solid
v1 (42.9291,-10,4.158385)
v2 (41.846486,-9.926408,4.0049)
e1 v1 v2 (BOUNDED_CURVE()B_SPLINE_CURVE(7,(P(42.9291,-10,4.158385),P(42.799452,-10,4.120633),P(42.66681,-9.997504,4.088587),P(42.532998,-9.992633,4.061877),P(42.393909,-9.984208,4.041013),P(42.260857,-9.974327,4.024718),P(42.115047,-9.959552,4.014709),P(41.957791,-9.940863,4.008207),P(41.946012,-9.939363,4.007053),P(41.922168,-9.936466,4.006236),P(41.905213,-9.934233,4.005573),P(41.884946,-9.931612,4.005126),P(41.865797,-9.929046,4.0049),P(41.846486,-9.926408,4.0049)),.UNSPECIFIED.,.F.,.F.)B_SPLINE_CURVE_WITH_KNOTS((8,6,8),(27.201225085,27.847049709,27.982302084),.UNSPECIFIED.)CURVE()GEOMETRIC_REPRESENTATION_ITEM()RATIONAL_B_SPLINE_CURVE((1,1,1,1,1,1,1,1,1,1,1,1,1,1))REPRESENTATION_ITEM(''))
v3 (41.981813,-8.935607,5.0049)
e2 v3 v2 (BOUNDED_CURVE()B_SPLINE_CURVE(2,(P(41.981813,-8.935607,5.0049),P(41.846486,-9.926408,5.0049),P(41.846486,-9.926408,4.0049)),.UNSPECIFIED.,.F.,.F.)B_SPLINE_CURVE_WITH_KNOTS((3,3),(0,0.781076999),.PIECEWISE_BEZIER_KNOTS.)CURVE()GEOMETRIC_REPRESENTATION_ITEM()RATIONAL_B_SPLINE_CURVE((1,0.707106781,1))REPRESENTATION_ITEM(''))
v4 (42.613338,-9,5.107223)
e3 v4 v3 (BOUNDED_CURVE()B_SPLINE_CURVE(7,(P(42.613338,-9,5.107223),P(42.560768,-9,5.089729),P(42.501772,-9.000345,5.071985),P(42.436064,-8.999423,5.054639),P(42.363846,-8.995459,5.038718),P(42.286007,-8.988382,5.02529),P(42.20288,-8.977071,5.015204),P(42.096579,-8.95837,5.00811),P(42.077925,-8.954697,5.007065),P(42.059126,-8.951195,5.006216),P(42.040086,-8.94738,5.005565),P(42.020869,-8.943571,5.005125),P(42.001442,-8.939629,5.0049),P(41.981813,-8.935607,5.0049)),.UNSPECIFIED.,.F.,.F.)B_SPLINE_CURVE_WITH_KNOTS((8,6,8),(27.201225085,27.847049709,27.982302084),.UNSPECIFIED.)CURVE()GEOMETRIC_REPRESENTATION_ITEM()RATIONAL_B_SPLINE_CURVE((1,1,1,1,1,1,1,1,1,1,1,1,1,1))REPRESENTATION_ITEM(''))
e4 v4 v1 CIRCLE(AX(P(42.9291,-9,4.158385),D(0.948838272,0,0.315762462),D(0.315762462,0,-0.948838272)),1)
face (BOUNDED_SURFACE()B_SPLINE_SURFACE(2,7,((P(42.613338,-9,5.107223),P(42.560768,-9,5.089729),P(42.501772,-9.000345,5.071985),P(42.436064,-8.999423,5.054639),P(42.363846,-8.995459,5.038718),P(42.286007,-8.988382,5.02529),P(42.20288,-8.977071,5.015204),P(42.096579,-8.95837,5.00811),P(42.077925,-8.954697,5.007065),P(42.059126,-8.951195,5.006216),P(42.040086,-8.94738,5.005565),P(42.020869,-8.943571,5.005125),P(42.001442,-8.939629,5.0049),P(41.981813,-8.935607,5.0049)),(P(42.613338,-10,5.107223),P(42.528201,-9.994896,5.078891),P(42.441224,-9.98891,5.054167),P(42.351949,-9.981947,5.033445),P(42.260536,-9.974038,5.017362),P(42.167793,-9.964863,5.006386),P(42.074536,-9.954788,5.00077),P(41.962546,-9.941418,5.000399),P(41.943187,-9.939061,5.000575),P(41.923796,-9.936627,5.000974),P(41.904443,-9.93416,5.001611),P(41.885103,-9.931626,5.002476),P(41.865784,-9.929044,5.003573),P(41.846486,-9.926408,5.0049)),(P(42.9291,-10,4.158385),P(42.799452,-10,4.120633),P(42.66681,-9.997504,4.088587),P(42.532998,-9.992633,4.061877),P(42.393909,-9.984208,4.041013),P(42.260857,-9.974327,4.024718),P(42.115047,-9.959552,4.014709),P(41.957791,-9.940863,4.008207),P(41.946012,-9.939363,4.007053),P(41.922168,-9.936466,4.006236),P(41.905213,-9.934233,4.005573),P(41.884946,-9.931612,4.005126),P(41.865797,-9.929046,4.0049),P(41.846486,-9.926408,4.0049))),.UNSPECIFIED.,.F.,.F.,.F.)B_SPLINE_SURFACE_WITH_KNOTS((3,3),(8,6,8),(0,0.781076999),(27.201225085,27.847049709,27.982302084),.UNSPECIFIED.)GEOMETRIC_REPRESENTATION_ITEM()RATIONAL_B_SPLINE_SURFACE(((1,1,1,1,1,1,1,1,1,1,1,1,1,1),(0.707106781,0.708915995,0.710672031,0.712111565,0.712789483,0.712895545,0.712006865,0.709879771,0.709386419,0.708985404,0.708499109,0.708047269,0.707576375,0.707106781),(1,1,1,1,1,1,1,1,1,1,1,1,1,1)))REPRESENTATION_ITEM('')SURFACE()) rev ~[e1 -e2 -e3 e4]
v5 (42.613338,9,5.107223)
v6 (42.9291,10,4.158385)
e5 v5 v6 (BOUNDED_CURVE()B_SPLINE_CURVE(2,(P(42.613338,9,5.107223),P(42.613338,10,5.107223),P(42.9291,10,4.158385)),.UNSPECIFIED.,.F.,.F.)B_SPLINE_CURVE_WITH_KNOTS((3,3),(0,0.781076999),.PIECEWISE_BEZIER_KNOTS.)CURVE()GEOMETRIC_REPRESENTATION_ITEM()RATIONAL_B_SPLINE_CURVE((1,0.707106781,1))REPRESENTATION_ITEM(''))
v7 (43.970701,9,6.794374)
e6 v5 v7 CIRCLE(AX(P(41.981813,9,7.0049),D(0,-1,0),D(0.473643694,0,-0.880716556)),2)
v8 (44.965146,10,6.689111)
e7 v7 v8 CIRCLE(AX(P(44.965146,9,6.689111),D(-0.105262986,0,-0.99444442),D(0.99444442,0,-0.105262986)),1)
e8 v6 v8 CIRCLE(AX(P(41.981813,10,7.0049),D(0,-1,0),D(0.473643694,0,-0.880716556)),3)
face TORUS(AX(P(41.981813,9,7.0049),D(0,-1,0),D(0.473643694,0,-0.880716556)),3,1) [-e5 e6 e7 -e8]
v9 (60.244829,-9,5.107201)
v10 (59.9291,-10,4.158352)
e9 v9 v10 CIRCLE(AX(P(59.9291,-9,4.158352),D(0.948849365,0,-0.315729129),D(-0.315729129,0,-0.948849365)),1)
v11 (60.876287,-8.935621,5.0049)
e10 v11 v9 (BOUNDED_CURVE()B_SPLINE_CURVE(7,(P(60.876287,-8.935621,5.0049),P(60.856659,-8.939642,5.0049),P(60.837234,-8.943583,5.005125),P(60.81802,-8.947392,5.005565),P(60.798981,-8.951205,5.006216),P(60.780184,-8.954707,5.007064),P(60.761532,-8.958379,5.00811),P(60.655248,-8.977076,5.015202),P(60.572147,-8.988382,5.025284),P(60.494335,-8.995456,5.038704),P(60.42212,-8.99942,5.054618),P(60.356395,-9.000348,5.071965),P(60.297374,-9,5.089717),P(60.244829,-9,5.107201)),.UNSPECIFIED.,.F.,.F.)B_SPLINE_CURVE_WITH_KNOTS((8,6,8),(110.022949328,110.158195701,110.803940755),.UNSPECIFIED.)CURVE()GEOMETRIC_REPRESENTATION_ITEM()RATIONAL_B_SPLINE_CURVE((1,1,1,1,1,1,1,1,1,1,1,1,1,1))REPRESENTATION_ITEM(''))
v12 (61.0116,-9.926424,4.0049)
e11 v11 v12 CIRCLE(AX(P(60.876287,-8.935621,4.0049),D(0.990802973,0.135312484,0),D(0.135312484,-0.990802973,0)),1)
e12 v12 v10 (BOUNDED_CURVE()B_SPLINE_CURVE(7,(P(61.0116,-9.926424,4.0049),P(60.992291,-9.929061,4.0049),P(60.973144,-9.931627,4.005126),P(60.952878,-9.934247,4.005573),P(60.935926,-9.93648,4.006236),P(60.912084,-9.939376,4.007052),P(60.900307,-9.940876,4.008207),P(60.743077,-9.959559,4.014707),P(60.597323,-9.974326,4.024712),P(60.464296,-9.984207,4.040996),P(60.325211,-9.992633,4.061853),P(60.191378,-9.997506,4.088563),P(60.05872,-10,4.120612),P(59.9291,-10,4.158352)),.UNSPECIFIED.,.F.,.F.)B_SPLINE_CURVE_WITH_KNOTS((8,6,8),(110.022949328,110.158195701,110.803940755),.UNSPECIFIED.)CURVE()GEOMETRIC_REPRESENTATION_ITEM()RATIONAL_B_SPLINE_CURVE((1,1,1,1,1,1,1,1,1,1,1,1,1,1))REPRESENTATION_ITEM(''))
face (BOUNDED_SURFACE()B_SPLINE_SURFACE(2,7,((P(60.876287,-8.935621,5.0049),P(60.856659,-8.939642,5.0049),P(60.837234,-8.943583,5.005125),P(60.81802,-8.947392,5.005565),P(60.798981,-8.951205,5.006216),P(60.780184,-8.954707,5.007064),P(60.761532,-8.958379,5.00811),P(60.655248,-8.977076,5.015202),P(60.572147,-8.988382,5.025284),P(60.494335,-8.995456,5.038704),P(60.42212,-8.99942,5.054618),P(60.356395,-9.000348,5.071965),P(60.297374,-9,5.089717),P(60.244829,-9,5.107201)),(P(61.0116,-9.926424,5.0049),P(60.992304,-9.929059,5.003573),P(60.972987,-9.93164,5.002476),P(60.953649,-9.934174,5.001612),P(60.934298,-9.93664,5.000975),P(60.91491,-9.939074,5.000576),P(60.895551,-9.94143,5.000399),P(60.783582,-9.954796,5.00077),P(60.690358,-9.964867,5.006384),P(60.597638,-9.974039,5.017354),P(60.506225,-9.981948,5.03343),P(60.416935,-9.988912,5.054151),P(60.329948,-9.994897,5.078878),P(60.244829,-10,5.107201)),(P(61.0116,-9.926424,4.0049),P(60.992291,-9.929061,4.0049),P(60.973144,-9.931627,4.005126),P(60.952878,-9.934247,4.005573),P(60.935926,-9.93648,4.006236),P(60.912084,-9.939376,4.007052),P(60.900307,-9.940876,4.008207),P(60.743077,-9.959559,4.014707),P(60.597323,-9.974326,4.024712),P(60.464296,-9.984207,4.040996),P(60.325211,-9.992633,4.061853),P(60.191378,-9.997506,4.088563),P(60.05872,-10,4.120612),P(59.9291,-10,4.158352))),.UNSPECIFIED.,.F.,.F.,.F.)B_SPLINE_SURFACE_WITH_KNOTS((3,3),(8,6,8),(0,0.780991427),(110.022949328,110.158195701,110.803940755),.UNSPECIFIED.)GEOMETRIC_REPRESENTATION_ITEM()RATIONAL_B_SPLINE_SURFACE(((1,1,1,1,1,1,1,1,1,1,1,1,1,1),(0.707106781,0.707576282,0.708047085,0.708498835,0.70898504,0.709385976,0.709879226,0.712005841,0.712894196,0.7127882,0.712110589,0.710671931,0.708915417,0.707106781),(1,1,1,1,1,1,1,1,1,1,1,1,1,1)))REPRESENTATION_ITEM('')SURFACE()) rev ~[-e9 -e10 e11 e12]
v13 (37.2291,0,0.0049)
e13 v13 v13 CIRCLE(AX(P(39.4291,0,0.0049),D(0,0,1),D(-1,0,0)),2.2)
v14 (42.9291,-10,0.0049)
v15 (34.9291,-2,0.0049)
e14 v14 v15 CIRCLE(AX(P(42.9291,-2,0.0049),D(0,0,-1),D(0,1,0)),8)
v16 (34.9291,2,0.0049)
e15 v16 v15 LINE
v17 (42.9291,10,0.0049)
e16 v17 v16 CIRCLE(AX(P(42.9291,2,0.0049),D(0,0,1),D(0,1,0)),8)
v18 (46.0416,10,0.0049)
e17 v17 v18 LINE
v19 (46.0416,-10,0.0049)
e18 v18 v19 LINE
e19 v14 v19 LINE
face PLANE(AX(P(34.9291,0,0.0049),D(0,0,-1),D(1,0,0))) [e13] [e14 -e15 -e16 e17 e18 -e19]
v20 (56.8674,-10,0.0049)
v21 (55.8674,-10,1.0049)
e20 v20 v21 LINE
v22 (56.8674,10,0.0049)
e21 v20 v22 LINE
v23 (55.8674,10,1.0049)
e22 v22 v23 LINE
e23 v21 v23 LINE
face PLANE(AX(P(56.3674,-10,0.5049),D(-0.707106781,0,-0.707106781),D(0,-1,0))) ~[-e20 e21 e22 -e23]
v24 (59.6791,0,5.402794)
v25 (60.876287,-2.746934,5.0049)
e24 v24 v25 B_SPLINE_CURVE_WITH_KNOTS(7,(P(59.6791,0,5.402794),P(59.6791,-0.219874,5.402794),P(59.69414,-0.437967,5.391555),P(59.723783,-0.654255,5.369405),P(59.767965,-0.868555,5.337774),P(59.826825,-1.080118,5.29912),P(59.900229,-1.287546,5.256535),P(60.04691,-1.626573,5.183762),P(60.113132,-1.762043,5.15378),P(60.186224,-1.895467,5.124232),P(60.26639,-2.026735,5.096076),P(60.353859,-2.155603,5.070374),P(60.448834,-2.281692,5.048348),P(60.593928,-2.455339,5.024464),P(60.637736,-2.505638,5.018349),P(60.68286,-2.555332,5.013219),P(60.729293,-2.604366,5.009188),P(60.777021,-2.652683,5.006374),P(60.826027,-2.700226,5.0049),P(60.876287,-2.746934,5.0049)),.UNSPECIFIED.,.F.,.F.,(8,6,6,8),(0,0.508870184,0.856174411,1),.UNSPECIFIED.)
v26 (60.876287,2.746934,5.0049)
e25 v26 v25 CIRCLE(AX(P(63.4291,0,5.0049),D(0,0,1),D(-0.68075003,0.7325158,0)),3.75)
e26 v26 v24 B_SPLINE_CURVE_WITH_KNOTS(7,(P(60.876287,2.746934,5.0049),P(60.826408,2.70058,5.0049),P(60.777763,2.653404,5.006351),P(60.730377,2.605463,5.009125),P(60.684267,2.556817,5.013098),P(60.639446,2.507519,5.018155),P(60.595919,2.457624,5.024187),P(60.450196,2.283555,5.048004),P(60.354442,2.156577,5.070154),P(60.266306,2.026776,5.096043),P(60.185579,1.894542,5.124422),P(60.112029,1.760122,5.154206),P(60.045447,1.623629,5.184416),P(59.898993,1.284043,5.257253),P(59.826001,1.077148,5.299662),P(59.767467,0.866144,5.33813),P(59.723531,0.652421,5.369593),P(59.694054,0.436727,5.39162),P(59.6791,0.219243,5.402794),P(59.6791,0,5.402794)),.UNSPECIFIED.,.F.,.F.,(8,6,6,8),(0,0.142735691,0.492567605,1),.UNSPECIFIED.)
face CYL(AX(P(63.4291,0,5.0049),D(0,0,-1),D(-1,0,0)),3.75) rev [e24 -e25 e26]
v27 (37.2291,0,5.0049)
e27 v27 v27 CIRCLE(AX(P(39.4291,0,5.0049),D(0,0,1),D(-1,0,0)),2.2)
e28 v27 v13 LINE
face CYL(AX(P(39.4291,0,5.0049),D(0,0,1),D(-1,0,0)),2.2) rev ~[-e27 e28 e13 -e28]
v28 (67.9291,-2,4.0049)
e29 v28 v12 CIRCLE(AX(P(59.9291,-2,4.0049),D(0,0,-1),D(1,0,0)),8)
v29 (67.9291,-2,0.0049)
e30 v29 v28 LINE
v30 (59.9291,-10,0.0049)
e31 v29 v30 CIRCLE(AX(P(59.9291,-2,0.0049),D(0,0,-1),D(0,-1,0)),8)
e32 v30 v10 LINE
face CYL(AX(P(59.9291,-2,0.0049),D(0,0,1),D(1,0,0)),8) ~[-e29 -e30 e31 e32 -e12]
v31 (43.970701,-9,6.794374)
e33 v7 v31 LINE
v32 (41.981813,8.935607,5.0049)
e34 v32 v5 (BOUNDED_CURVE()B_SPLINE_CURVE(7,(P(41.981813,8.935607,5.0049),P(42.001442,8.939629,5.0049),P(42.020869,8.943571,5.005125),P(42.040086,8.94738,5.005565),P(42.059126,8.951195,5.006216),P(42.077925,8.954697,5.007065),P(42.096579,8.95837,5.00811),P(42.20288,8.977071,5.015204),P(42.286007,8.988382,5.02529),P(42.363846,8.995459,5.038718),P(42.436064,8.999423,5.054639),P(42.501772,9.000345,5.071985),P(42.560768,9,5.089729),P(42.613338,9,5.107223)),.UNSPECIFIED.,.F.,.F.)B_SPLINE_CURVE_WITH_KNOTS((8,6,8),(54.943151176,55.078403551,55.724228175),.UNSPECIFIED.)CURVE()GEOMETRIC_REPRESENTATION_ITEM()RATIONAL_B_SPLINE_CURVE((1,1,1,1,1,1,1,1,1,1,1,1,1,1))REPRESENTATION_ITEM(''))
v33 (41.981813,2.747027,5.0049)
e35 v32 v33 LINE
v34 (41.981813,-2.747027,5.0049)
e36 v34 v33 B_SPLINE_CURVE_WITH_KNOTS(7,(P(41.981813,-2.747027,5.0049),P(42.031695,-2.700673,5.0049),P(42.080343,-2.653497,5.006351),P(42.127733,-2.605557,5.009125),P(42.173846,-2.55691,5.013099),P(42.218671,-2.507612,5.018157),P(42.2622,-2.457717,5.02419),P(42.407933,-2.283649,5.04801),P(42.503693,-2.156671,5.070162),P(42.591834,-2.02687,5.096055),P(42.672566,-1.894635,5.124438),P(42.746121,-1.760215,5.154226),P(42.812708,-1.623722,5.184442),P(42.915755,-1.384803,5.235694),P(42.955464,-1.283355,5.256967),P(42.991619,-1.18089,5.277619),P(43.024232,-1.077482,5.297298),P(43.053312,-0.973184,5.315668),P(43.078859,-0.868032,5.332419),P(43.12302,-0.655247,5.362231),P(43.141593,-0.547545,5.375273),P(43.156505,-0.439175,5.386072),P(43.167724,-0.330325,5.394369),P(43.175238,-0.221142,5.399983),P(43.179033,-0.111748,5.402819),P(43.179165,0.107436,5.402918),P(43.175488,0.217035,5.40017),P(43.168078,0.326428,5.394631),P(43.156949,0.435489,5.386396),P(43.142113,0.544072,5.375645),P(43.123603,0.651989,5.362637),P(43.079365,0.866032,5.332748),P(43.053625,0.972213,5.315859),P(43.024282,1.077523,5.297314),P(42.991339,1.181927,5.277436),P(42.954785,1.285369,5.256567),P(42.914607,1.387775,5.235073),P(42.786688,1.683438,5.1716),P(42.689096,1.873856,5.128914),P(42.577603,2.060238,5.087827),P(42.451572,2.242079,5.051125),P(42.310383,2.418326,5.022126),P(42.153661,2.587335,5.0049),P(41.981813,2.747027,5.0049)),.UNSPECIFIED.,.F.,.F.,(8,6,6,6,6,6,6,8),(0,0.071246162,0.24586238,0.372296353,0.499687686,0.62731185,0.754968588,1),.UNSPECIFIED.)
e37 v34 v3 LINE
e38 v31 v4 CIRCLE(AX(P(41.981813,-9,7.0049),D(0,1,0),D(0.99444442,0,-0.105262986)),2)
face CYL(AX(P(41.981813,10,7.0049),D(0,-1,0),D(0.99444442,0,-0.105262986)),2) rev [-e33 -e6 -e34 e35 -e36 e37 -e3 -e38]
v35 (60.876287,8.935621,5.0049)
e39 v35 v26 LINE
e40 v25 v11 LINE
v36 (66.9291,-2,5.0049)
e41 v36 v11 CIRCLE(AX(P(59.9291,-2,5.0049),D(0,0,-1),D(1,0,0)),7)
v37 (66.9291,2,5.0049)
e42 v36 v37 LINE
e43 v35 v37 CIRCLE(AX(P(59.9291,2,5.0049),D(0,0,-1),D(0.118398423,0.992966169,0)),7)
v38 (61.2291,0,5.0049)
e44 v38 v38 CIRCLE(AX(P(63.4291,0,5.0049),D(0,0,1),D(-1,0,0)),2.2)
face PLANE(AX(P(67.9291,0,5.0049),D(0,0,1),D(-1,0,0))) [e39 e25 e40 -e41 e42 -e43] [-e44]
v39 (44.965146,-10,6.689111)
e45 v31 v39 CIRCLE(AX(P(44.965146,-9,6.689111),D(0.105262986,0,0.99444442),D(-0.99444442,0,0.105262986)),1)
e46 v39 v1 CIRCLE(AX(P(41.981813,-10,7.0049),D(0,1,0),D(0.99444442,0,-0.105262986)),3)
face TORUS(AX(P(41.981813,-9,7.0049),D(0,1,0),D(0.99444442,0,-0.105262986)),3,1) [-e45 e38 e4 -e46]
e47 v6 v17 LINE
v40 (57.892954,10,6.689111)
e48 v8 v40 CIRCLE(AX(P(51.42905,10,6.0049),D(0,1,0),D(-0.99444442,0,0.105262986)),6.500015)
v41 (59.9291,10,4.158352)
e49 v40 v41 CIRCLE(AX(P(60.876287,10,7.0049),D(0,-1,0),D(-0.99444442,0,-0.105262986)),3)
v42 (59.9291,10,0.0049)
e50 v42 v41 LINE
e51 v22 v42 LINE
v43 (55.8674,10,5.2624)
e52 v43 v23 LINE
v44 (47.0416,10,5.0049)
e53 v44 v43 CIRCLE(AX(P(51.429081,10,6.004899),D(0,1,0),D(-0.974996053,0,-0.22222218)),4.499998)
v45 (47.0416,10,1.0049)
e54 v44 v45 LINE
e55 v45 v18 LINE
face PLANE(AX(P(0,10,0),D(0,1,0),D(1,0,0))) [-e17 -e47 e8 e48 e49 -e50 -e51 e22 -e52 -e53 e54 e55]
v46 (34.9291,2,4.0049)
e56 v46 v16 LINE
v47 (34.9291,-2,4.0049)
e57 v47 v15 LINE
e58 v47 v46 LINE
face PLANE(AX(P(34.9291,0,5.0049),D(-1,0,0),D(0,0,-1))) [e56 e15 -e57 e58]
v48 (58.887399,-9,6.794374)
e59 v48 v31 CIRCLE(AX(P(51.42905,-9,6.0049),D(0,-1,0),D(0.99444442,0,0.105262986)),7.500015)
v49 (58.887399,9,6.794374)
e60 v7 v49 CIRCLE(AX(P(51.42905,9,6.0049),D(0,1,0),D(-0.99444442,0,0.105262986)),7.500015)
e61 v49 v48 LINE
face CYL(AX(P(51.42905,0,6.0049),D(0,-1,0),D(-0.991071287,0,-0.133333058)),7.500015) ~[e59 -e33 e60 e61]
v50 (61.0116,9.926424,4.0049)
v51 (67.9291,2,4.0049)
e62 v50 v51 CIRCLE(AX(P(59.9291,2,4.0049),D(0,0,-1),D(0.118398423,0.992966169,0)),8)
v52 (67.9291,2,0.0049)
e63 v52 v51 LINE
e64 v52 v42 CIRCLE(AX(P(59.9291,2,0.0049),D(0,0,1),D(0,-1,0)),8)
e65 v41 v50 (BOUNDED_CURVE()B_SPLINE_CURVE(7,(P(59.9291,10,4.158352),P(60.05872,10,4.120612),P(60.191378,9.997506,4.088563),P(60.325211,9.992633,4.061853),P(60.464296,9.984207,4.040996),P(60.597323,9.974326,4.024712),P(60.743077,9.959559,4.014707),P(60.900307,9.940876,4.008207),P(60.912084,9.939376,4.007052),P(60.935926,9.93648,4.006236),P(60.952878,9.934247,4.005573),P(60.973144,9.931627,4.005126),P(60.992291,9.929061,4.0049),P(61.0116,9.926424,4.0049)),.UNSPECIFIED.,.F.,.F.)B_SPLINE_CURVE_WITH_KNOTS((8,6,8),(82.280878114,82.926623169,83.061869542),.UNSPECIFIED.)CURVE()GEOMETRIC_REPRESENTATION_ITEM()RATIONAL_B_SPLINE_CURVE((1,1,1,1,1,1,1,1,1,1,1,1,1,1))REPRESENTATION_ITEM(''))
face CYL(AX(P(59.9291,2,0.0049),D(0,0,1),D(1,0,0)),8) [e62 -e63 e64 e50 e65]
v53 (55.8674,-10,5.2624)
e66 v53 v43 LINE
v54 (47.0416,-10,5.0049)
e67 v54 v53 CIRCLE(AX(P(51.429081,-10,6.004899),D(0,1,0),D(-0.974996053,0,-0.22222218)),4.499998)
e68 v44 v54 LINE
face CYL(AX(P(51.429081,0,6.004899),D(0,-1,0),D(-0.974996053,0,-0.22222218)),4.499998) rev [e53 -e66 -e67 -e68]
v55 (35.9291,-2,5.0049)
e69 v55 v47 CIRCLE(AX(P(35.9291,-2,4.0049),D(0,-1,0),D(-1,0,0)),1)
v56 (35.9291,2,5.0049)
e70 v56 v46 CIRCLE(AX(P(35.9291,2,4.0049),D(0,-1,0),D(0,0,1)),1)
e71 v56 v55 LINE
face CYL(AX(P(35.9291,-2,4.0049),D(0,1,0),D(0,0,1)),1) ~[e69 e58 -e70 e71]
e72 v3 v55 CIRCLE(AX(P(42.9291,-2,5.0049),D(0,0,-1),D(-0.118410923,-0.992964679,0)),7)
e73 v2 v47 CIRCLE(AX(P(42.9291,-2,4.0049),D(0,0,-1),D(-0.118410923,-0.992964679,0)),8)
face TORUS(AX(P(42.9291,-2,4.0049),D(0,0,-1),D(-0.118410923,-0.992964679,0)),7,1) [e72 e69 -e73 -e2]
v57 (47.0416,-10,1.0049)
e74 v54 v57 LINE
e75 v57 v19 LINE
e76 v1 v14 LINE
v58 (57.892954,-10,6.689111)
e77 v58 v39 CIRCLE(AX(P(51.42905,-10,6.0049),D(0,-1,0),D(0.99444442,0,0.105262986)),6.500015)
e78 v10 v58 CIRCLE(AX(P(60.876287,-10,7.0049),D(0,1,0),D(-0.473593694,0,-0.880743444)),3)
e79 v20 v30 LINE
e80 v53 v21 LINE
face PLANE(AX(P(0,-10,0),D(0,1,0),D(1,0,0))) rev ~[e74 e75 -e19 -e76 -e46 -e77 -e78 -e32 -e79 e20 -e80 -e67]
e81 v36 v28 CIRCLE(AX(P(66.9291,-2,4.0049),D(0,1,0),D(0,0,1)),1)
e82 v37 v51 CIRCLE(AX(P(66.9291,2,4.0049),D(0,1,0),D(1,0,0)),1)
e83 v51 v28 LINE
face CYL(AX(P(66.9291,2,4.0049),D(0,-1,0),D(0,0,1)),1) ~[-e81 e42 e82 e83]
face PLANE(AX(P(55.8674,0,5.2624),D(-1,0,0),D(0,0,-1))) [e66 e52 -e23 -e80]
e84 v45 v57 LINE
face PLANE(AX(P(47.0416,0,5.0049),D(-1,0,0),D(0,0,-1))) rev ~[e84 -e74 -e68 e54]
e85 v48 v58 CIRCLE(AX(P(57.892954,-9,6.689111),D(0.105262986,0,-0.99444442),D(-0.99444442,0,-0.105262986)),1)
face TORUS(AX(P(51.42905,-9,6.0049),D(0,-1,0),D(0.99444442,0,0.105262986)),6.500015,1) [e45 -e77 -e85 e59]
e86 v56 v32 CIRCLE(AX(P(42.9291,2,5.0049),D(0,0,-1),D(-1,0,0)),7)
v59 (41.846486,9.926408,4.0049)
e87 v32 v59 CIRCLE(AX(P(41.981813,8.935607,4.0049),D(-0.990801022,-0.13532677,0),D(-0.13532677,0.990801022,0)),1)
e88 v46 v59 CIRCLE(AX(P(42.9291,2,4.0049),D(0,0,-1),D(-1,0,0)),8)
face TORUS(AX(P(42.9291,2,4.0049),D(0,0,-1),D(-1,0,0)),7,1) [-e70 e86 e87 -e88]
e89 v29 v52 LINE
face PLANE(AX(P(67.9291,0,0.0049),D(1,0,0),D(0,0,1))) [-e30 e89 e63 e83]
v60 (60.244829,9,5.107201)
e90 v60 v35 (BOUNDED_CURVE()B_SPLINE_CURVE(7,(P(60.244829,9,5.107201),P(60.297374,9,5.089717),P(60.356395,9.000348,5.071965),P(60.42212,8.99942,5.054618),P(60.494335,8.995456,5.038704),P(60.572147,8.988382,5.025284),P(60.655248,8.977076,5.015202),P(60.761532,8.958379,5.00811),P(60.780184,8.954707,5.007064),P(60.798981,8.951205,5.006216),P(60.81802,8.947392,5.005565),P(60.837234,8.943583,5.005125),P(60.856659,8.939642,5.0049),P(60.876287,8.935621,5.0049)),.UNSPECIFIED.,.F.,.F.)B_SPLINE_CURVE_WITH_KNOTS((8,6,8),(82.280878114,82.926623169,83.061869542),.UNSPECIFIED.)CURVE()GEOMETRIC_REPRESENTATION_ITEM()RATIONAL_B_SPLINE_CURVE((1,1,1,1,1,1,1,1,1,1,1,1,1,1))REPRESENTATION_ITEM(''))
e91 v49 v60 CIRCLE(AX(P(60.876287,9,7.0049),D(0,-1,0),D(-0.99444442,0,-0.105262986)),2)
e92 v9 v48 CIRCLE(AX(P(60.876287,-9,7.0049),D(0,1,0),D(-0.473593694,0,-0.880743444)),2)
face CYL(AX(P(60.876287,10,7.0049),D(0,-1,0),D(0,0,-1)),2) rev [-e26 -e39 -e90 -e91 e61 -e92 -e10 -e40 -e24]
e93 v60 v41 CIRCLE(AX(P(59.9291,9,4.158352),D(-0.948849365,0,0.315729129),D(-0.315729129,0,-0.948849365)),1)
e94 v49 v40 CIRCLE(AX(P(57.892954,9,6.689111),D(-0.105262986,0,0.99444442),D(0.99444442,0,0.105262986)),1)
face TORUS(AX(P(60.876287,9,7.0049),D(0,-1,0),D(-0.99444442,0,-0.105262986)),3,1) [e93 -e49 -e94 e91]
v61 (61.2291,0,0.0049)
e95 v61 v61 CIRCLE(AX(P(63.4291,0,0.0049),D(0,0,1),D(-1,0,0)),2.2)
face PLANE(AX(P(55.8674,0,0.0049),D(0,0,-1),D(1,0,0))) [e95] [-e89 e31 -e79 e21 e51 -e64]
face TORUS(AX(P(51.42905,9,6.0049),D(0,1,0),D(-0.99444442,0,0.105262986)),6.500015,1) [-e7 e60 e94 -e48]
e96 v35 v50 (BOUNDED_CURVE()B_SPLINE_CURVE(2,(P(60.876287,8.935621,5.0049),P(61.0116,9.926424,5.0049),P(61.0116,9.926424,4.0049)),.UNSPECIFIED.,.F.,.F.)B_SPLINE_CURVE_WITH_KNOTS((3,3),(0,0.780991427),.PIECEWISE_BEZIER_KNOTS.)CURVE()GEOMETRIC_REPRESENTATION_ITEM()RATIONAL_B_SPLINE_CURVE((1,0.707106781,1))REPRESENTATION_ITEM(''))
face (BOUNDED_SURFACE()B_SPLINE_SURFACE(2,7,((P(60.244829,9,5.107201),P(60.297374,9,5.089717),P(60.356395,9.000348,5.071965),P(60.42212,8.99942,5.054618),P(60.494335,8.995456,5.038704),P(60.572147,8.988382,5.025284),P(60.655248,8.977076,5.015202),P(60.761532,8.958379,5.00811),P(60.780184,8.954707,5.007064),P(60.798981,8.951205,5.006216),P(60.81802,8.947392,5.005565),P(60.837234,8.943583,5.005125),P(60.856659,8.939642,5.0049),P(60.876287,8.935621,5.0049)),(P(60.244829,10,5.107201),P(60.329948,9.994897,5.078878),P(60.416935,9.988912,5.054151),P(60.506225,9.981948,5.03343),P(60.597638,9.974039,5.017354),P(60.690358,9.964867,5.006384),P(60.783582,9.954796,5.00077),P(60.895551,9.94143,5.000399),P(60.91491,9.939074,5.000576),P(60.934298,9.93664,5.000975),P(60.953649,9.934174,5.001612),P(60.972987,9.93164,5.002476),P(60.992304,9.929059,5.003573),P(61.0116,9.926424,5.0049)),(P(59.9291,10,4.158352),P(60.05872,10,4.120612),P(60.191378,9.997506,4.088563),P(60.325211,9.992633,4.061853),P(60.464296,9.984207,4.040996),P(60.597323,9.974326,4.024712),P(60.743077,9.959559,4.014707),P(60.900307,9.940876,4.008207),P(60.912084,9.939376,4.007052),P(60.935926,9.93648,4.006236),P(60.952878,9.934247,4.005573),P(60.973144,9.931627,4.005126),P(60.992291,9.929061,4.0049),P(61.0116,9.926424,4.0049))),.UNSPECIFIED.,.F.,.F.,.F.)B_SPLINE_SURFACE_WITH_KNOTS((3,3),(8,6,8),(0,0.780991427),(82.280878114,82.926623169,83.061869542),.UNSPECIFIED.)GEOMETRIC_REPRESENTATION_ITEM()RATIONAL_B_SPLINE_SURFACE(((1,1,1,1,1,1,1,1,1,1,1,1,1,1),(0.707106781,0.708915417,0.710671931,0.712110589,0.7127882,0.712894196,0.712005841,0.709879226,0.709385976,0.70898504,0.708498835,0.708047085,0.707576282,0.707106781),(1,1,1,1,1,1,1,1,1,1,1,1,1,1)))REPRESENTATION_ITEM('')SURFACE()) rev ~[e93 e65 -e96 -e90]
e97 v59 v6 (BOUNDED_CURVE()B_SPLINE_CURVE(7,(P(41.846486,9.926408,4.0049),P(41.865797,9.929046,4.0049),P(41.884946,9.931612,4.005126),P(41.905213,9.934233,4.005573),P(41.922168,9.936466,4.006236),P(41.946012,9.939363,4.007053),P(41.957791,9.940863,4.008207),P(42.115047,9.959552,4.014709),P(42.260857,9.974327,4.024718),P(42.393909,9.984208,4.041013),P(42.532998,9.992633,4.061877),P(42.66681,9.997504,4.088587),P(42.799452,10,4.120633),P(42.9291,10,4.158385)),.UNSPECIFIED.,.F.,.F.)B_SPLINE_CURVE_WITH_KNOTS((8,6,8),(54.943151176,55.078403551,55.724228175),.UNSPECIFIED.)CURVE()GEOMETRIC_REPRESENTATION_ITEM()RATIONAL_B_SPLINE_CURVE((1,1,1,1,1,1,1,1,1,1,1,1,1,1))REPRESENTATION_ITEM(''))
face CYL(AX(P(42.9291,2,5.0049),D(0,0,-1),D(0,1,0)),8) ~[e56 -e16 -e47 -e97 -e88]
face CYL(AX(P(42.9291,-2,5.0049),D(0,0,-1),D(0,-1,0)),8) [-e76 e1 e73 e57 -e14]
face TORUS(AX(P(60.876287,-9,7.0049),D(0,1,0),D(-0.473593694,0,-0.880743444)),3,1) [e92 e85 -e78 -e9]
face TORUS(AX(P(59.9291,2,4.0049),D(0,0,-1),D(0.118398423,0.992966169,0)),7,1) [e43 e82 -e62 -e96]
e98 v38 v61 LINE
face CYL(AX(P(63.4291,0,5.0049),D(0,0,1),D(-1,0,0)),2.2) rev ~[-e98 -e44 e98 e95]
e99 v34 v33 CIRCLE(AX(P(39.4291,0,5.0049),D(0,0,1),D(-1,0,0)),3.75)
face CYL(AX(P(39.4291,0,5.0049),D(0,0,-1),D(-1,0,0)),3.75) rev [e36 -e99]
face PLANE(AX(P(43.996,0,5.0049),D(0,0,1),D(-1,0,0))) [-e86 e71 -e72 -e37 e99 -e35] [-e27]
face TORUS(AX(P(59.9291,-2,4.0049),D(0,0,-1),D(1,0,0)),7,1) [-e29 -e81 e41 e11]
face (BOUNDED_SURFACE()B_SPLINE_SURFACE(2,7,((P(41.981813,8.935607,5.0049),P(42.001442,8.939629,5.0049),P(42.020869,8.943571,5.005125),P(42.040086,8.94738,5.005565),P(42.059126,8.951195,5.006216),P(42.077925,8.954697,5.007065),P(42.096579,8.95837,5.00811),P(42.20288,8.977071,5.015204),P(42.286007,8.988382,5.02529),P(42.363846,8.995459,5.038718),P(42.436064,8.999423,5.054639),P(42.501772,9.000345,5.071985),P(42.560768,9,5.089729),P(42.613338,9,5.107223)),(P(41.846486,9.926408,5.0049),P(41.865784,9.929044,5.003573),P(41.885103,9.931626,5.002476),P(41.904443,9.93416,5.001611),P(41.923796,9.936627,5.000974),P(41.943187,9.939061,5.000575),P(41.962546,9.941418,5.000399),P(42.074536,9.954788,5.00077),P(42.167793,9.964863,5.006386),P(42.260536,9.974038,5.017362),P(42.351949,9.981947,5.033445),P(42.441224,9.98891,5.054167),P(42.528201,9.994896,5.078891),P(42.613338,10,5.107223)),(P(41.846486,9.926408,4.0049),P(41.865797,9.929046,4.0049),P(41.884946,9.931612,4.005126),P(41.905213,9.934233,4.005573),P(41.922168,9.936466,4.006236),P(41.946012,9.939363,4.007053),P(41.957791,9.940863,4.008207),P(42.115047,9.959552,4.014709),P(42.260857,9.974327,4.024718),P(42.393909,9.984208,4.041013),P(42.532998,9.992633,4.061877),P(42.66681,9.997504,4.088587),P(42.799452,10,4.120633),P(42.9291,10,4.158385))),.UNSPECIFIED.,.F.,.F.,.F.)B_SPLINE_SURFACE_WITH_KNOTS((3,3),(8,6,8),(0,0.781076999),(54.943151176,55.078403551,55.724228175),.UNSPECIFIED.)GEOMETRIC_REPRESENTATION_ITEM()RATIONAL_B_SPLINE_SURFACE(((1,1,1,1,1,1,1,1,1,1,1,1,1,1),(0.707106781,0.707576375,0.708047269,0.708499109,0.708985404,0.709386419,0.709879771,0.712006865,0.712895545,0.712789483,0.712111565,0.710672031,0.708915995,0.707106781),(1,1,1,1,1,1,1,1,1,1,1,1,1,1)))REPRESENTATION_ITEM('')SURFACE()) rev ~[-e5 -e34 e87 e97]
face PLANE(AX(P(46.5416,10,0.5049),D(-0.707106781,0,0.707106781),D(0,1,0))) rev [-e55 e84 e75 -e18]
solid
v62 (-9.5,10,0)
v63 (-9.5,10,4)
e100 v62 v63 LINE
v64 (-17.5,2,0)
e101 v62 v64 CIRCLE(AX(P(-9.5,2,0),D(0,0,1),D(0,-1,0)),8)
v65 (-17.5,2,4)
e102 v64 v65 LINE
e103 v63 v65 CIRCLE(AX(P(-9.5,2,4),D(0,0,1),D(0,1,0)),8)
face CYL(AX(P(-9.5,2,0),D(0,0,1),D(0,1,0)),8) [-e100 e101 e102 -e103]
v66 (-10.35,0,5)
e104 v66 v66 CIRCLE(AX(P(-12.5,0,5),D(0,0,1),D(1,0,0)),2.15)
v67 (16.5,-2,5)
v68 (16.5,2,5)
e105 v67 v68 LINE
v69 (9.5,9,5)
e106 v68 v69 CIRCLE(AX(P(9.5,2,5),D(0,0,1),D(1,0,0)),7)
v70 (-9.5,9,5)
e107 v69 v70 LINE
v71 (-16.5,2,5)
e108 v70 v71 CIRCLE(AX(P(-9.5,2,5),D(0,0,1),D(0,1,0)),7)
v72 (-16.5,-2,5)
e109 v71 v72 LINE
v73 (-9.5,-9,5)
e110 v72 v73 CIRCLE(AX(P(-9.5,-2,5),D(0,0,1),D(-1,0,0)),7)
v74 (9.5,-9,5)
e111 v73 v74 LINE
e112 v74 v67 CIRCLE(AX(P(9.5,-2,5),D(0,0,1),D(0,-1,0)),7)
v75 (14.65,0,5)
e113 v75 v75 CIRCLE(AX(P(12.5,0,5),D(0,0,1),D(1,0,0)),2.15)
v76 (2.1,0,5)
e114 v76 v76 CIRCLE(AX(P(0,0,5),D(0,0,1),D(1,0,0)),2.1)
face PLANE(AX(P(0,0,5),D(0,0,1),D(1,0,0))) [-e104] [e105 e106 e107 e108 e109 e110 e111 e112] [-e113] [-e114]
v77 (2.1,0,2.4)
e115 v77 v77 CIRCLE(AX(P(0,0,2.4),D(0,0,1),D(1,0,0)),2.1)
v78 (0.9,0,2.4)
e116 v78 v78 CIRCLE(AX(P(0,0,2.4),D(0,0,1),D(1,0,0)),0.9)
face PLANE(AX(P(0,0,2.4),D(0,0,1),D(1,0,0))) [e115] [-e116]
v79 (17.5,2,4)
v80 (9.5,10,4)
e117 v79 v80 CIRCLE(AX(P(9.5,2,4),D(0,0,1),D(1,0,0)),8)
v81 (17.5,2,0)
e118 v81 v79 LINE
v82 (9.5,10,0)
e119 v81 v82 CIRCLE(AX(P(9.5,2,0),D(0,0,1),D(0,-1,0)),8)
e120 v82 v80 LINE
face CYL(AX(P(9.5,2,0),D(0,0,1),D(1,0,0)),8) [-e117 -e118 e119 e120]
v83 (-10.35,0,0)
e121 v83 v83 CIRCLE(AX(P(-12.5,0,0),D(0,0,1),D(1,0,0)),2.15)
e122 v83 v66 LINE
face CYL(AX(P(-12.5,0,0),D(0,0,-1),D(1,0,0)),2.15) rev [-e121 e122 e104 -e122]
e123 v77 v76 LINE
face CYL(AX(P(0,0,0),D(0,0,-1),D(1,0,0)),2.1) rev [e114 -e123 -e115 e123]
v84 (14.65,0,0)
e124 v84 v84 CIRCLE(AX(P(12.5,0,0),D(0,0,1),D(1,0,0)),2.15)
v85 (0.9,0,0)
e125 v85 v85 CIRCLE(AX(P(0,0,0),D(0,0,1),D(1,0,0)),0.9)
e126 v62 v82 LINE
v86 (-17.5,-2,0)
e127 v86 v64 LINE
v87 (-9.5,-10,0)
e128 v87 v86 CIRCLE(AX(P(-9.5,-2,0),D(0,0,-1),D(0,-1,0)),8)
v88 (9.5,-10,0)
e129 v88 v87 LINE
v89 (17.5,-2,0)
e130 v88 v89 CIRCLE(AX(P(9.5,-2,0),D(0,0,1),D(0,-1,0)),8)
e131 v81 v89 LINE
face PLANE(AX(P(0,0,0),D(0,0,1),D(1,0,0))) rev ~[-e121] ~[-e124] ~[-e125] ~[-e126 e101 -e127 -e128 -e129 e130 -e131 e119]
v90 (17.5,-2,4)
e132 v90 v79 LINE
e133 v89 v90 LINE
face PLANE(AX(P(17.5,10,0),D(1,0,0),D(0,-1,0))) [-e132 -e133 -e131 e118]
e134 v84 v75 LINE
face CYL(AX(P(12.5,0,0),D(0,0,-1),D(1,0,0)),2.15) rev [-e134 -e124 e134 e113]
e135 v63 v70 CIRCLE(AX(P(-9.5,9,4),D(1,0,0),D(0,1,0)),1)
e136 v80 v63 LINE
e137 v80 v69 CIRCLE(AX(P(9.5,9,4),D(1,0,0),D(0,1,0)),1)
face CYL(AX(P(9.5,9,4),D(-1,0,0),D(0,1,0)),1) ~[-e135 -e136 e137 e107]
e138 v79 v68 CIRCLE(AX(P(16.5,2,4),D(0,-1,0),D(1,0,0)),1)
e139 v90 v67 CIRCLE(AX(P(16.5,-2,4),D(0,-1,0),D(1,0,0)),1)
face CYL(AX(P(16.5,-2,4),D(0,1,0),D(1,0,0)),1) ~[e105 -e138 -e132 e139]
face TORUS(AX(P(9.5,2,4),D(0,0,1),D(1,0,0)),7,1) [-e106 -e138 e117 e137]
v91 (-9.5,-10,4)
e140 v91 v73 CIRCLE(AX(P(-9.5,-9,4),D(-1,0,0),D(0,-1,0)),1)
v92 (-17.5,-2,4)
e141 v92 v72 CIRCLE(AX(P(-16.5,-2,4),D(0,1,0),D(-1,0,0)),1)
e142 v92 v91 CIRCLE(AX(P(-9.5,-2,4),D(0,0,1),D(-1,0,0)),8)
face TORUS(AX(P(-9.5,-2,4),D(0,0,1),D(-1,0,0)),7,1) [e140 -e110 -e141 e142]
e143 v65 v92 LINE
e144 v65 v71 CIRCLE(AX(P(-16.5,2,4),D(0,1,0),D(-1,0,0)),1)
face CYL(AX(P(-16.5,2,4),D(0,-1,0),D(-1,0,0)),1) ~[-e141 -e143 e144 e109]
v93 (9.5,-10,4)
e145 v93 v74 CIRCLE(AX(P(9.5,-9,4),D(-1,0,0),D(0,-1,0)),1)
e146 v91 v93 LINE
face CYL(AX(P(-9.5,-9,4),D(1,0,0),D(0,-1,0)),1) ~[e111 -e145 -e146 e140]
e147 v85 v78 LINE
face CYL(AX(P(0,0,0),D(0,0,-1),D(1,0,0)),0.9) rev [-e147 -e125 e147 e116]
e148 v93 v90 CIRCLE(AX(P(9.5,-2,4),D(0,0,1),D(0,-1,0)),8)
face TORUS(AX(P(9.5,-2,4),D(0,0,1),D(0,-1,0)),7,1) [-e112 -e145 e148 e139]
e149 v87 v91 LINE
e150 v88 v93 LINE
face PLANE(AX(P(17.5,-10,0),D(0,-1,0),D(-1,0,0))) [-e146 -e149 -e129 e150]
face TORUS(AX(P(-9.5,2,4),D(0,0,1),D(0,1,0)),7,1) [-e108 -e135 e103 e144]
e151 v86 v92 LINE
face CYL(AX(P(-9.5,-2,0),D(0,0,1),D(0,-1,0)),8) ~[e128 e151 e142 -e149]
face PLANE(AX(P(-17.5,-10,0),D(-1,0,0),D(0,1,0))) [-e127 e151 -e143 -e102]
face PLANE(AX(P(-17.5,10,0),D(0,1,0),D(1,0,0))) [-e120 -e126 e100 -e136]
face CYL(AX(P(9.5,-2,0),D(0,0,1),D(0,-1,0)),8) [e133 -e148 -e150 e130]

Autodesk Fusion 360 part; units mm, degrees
sketch "Sketch1" plane through (0, 0, 0) normal (0, 0, 1) x (1, 0, 0)
  circle A0 centre (0, 0) radius 2.1
  line L0 (17.5, -10) -> (-17.5, -10)
  line L1 (-17.5, -10) -> (-17.5, 10)
  line L2 (-17.5, 10) -> (17.5, 10)
  line L3 (17.5, 10) -> (17.5, -10)
  line L4 (17.5, -10) -> (-17.5, 10) construction
  line L5 (-17.5, -10) -> (17.5, 10) construction
  circle A1 centre (-12.5, 0) radius 2.15
  circle A2 centre (12.5, 0) radius 2.15
  circle A3 centre (0, 0) radius 0.9
  circle A4 centre (-12.5, 0) radius 3.75
  dimension "d1" = 4.2
  dimension "d2" = 35
  dimension "d3" = 20
  dimension "d4" = 4.3
  dimension "d5" = 4.3
  dimension "d6" = 5
  dimension "d7" = 5
  dimension "d8" = 1.8
  dimension "d17" = 7.5
extrude "Extrude1" add sketch "Sketch1" along normal blind 5 contours L0 L1 L2 L3 | A4 makes body 1
extrude "Extrude2" add sketch "Sketch1" along normal blind 2.4 contours A0 bodies 1
fillet "Fillet1" radius 8 4 edges at (-17.5, 10, 2.5) (-17.5, -10, 2.5) (17.5, 10, 2.5) (17.5, -10, 2.5) on bodies 1
fillet "Fillet2" radius 1 8 edges at (15.1569, -7.6569, 5) (0, -10, 5) (-15.1569, -7.6569, 5) (-17.5, 0, 5) (-15.1569, 7.6569, 5) (0, 10, 5) (15.1569, 7.6569, 5) (17.5, 0, 5) on bodies 1
sketch "Sketch2" plane through (0, 0, 0) normal (0, 1, 0) x (1, 0, 0)
  line L0 (67.9291, -0.0049) -> (67.9291, -5.0049)
  line L1 (34.9291, -5.0049) -> (34.9291, -0.0049)
  arc A0 (43.996, -5.0049) -> (58.8621, -5.0049) centre (51.4291, -6.0049) ccw
  arc A1 (47.0416, -5.0049) -> (55.8674, -5.2624) centre (51.4291, -6.0049) ccw
  line L2 (67.9291, -5.0049) -> (58.8621, -5.0049)
  line L3 (43.996, -5.0049) -> (34.9291, -5.0049)
  line L4 (47.0416, -5.0049) -> (47.0416, -0.0049)
  line L5 (55.8674, -5.2624) -> (55.8674, -0.0049)
  line L6 (34.9291, -0.0049) -> (47.0416, -0.0049)
  line L7 (55.8674, -0.0049) -> (67.9291, -0.0049)
  dimension "d18" = 33
  dimension "d19" = 5
  dimension "d20" = 9
  dimension "d21" = 1
  dimension "d22" = 15
extrude "Extrude3" add sketch "Sketch2" along normal mid plane 20 separate body makes body 2
sketch "Sketch3" plane through (0, 0, 5.0049) normal (0, 0, 1) x (-1, 0, 0)
  line L0 (-43.996, 10) -> (-43.996, -10)
  line L1 (-43.996, -10) -> (-34.9291, -10)
  line L2 (-34.9291, -10) -> (-34.9291, 10)
  line L3 (-34.9291, 10) -> (-43.996, 10)
  line L4 (-67.9291, 10) -> (-67.9291, -10)
  line L5 (-67.9291, -10) -> (-58.8621, -10)
  line L6 (-58.8621, -10) -> (-58.8621, 10)
  line L7 (-58.8621, 10) -> (-67.9291, 10)
  circle A0 centre (-39.4291, 0) radius 2.2
  circle A1 centre (-63.4291, 0) radius 2.2
  circle A2 centre (-63.4291, 0) radius 3.75
  circle A3 centre (-39.4291, 0) radius 3.75
  dimension "d25" = 4.4
  dimension "d26" = 4.4
  dimension "d27" = 4.5
  dimension "d28" = 4.5
  dimension "d37" = 7.5
  dimension "d38" = 7.5
extrude "Extrude4" cut sketch "Sketch3" against normal blind 15.241 contours A0 | A1 bodies 2
fillet "Fillet3" radius 8 4 edges at (67.9291, -10, 2.5049) (34.9291, -10, 2.5049) (34.9291, 10, 2.5049) (67.9291, 10, 2.5049) on bodies 2
fillet "Fillet4" radius 2 2 edges at (43.996, 0, 5.0049) (58.8621, 0, 5.0049) on bodies 2
fillet "Fillet5" radius 1 16 edges at (60.3951, -9.9862, 5.0642) (59.216, -10, 5.8898) (51.4291, -10, 13.5049) (43.6421, -10, 5.8898) (42.463, -9.9862, 5.0642) (36.9467, -7.3114, 5.0049) (34.9291, 0, 5.0049) (36.9467, 7.3114, 5.0049) (42.463, 9.9862, 5.0642) (43.6421, 10, 5.8898) (51.4291, 10, 13.5049) (59.216, 10, 5.8898) (60.3951, 9.9862, 5.0642) (65.9114, 7.3114, 5.0049) (67.9291, 0, 5.0049) (65.9114, -7.3114, 5.0049) on bodies 2
extrude "Extrude5" cut sketch "Sketch3" along normal blind 7.844 contours A2 | A3 bodies 2
chamfer "Chamfer1" distance 1 distance2 1 2 edges at (47.0416, 0, 0.0049) (55.8674, 0, 0.0049) measured on face at (47.0416, -3.3333, 3.3382) measured on face at (57.6546, 0, 0.0049) on bodies 2
equation "d28 = d27"
